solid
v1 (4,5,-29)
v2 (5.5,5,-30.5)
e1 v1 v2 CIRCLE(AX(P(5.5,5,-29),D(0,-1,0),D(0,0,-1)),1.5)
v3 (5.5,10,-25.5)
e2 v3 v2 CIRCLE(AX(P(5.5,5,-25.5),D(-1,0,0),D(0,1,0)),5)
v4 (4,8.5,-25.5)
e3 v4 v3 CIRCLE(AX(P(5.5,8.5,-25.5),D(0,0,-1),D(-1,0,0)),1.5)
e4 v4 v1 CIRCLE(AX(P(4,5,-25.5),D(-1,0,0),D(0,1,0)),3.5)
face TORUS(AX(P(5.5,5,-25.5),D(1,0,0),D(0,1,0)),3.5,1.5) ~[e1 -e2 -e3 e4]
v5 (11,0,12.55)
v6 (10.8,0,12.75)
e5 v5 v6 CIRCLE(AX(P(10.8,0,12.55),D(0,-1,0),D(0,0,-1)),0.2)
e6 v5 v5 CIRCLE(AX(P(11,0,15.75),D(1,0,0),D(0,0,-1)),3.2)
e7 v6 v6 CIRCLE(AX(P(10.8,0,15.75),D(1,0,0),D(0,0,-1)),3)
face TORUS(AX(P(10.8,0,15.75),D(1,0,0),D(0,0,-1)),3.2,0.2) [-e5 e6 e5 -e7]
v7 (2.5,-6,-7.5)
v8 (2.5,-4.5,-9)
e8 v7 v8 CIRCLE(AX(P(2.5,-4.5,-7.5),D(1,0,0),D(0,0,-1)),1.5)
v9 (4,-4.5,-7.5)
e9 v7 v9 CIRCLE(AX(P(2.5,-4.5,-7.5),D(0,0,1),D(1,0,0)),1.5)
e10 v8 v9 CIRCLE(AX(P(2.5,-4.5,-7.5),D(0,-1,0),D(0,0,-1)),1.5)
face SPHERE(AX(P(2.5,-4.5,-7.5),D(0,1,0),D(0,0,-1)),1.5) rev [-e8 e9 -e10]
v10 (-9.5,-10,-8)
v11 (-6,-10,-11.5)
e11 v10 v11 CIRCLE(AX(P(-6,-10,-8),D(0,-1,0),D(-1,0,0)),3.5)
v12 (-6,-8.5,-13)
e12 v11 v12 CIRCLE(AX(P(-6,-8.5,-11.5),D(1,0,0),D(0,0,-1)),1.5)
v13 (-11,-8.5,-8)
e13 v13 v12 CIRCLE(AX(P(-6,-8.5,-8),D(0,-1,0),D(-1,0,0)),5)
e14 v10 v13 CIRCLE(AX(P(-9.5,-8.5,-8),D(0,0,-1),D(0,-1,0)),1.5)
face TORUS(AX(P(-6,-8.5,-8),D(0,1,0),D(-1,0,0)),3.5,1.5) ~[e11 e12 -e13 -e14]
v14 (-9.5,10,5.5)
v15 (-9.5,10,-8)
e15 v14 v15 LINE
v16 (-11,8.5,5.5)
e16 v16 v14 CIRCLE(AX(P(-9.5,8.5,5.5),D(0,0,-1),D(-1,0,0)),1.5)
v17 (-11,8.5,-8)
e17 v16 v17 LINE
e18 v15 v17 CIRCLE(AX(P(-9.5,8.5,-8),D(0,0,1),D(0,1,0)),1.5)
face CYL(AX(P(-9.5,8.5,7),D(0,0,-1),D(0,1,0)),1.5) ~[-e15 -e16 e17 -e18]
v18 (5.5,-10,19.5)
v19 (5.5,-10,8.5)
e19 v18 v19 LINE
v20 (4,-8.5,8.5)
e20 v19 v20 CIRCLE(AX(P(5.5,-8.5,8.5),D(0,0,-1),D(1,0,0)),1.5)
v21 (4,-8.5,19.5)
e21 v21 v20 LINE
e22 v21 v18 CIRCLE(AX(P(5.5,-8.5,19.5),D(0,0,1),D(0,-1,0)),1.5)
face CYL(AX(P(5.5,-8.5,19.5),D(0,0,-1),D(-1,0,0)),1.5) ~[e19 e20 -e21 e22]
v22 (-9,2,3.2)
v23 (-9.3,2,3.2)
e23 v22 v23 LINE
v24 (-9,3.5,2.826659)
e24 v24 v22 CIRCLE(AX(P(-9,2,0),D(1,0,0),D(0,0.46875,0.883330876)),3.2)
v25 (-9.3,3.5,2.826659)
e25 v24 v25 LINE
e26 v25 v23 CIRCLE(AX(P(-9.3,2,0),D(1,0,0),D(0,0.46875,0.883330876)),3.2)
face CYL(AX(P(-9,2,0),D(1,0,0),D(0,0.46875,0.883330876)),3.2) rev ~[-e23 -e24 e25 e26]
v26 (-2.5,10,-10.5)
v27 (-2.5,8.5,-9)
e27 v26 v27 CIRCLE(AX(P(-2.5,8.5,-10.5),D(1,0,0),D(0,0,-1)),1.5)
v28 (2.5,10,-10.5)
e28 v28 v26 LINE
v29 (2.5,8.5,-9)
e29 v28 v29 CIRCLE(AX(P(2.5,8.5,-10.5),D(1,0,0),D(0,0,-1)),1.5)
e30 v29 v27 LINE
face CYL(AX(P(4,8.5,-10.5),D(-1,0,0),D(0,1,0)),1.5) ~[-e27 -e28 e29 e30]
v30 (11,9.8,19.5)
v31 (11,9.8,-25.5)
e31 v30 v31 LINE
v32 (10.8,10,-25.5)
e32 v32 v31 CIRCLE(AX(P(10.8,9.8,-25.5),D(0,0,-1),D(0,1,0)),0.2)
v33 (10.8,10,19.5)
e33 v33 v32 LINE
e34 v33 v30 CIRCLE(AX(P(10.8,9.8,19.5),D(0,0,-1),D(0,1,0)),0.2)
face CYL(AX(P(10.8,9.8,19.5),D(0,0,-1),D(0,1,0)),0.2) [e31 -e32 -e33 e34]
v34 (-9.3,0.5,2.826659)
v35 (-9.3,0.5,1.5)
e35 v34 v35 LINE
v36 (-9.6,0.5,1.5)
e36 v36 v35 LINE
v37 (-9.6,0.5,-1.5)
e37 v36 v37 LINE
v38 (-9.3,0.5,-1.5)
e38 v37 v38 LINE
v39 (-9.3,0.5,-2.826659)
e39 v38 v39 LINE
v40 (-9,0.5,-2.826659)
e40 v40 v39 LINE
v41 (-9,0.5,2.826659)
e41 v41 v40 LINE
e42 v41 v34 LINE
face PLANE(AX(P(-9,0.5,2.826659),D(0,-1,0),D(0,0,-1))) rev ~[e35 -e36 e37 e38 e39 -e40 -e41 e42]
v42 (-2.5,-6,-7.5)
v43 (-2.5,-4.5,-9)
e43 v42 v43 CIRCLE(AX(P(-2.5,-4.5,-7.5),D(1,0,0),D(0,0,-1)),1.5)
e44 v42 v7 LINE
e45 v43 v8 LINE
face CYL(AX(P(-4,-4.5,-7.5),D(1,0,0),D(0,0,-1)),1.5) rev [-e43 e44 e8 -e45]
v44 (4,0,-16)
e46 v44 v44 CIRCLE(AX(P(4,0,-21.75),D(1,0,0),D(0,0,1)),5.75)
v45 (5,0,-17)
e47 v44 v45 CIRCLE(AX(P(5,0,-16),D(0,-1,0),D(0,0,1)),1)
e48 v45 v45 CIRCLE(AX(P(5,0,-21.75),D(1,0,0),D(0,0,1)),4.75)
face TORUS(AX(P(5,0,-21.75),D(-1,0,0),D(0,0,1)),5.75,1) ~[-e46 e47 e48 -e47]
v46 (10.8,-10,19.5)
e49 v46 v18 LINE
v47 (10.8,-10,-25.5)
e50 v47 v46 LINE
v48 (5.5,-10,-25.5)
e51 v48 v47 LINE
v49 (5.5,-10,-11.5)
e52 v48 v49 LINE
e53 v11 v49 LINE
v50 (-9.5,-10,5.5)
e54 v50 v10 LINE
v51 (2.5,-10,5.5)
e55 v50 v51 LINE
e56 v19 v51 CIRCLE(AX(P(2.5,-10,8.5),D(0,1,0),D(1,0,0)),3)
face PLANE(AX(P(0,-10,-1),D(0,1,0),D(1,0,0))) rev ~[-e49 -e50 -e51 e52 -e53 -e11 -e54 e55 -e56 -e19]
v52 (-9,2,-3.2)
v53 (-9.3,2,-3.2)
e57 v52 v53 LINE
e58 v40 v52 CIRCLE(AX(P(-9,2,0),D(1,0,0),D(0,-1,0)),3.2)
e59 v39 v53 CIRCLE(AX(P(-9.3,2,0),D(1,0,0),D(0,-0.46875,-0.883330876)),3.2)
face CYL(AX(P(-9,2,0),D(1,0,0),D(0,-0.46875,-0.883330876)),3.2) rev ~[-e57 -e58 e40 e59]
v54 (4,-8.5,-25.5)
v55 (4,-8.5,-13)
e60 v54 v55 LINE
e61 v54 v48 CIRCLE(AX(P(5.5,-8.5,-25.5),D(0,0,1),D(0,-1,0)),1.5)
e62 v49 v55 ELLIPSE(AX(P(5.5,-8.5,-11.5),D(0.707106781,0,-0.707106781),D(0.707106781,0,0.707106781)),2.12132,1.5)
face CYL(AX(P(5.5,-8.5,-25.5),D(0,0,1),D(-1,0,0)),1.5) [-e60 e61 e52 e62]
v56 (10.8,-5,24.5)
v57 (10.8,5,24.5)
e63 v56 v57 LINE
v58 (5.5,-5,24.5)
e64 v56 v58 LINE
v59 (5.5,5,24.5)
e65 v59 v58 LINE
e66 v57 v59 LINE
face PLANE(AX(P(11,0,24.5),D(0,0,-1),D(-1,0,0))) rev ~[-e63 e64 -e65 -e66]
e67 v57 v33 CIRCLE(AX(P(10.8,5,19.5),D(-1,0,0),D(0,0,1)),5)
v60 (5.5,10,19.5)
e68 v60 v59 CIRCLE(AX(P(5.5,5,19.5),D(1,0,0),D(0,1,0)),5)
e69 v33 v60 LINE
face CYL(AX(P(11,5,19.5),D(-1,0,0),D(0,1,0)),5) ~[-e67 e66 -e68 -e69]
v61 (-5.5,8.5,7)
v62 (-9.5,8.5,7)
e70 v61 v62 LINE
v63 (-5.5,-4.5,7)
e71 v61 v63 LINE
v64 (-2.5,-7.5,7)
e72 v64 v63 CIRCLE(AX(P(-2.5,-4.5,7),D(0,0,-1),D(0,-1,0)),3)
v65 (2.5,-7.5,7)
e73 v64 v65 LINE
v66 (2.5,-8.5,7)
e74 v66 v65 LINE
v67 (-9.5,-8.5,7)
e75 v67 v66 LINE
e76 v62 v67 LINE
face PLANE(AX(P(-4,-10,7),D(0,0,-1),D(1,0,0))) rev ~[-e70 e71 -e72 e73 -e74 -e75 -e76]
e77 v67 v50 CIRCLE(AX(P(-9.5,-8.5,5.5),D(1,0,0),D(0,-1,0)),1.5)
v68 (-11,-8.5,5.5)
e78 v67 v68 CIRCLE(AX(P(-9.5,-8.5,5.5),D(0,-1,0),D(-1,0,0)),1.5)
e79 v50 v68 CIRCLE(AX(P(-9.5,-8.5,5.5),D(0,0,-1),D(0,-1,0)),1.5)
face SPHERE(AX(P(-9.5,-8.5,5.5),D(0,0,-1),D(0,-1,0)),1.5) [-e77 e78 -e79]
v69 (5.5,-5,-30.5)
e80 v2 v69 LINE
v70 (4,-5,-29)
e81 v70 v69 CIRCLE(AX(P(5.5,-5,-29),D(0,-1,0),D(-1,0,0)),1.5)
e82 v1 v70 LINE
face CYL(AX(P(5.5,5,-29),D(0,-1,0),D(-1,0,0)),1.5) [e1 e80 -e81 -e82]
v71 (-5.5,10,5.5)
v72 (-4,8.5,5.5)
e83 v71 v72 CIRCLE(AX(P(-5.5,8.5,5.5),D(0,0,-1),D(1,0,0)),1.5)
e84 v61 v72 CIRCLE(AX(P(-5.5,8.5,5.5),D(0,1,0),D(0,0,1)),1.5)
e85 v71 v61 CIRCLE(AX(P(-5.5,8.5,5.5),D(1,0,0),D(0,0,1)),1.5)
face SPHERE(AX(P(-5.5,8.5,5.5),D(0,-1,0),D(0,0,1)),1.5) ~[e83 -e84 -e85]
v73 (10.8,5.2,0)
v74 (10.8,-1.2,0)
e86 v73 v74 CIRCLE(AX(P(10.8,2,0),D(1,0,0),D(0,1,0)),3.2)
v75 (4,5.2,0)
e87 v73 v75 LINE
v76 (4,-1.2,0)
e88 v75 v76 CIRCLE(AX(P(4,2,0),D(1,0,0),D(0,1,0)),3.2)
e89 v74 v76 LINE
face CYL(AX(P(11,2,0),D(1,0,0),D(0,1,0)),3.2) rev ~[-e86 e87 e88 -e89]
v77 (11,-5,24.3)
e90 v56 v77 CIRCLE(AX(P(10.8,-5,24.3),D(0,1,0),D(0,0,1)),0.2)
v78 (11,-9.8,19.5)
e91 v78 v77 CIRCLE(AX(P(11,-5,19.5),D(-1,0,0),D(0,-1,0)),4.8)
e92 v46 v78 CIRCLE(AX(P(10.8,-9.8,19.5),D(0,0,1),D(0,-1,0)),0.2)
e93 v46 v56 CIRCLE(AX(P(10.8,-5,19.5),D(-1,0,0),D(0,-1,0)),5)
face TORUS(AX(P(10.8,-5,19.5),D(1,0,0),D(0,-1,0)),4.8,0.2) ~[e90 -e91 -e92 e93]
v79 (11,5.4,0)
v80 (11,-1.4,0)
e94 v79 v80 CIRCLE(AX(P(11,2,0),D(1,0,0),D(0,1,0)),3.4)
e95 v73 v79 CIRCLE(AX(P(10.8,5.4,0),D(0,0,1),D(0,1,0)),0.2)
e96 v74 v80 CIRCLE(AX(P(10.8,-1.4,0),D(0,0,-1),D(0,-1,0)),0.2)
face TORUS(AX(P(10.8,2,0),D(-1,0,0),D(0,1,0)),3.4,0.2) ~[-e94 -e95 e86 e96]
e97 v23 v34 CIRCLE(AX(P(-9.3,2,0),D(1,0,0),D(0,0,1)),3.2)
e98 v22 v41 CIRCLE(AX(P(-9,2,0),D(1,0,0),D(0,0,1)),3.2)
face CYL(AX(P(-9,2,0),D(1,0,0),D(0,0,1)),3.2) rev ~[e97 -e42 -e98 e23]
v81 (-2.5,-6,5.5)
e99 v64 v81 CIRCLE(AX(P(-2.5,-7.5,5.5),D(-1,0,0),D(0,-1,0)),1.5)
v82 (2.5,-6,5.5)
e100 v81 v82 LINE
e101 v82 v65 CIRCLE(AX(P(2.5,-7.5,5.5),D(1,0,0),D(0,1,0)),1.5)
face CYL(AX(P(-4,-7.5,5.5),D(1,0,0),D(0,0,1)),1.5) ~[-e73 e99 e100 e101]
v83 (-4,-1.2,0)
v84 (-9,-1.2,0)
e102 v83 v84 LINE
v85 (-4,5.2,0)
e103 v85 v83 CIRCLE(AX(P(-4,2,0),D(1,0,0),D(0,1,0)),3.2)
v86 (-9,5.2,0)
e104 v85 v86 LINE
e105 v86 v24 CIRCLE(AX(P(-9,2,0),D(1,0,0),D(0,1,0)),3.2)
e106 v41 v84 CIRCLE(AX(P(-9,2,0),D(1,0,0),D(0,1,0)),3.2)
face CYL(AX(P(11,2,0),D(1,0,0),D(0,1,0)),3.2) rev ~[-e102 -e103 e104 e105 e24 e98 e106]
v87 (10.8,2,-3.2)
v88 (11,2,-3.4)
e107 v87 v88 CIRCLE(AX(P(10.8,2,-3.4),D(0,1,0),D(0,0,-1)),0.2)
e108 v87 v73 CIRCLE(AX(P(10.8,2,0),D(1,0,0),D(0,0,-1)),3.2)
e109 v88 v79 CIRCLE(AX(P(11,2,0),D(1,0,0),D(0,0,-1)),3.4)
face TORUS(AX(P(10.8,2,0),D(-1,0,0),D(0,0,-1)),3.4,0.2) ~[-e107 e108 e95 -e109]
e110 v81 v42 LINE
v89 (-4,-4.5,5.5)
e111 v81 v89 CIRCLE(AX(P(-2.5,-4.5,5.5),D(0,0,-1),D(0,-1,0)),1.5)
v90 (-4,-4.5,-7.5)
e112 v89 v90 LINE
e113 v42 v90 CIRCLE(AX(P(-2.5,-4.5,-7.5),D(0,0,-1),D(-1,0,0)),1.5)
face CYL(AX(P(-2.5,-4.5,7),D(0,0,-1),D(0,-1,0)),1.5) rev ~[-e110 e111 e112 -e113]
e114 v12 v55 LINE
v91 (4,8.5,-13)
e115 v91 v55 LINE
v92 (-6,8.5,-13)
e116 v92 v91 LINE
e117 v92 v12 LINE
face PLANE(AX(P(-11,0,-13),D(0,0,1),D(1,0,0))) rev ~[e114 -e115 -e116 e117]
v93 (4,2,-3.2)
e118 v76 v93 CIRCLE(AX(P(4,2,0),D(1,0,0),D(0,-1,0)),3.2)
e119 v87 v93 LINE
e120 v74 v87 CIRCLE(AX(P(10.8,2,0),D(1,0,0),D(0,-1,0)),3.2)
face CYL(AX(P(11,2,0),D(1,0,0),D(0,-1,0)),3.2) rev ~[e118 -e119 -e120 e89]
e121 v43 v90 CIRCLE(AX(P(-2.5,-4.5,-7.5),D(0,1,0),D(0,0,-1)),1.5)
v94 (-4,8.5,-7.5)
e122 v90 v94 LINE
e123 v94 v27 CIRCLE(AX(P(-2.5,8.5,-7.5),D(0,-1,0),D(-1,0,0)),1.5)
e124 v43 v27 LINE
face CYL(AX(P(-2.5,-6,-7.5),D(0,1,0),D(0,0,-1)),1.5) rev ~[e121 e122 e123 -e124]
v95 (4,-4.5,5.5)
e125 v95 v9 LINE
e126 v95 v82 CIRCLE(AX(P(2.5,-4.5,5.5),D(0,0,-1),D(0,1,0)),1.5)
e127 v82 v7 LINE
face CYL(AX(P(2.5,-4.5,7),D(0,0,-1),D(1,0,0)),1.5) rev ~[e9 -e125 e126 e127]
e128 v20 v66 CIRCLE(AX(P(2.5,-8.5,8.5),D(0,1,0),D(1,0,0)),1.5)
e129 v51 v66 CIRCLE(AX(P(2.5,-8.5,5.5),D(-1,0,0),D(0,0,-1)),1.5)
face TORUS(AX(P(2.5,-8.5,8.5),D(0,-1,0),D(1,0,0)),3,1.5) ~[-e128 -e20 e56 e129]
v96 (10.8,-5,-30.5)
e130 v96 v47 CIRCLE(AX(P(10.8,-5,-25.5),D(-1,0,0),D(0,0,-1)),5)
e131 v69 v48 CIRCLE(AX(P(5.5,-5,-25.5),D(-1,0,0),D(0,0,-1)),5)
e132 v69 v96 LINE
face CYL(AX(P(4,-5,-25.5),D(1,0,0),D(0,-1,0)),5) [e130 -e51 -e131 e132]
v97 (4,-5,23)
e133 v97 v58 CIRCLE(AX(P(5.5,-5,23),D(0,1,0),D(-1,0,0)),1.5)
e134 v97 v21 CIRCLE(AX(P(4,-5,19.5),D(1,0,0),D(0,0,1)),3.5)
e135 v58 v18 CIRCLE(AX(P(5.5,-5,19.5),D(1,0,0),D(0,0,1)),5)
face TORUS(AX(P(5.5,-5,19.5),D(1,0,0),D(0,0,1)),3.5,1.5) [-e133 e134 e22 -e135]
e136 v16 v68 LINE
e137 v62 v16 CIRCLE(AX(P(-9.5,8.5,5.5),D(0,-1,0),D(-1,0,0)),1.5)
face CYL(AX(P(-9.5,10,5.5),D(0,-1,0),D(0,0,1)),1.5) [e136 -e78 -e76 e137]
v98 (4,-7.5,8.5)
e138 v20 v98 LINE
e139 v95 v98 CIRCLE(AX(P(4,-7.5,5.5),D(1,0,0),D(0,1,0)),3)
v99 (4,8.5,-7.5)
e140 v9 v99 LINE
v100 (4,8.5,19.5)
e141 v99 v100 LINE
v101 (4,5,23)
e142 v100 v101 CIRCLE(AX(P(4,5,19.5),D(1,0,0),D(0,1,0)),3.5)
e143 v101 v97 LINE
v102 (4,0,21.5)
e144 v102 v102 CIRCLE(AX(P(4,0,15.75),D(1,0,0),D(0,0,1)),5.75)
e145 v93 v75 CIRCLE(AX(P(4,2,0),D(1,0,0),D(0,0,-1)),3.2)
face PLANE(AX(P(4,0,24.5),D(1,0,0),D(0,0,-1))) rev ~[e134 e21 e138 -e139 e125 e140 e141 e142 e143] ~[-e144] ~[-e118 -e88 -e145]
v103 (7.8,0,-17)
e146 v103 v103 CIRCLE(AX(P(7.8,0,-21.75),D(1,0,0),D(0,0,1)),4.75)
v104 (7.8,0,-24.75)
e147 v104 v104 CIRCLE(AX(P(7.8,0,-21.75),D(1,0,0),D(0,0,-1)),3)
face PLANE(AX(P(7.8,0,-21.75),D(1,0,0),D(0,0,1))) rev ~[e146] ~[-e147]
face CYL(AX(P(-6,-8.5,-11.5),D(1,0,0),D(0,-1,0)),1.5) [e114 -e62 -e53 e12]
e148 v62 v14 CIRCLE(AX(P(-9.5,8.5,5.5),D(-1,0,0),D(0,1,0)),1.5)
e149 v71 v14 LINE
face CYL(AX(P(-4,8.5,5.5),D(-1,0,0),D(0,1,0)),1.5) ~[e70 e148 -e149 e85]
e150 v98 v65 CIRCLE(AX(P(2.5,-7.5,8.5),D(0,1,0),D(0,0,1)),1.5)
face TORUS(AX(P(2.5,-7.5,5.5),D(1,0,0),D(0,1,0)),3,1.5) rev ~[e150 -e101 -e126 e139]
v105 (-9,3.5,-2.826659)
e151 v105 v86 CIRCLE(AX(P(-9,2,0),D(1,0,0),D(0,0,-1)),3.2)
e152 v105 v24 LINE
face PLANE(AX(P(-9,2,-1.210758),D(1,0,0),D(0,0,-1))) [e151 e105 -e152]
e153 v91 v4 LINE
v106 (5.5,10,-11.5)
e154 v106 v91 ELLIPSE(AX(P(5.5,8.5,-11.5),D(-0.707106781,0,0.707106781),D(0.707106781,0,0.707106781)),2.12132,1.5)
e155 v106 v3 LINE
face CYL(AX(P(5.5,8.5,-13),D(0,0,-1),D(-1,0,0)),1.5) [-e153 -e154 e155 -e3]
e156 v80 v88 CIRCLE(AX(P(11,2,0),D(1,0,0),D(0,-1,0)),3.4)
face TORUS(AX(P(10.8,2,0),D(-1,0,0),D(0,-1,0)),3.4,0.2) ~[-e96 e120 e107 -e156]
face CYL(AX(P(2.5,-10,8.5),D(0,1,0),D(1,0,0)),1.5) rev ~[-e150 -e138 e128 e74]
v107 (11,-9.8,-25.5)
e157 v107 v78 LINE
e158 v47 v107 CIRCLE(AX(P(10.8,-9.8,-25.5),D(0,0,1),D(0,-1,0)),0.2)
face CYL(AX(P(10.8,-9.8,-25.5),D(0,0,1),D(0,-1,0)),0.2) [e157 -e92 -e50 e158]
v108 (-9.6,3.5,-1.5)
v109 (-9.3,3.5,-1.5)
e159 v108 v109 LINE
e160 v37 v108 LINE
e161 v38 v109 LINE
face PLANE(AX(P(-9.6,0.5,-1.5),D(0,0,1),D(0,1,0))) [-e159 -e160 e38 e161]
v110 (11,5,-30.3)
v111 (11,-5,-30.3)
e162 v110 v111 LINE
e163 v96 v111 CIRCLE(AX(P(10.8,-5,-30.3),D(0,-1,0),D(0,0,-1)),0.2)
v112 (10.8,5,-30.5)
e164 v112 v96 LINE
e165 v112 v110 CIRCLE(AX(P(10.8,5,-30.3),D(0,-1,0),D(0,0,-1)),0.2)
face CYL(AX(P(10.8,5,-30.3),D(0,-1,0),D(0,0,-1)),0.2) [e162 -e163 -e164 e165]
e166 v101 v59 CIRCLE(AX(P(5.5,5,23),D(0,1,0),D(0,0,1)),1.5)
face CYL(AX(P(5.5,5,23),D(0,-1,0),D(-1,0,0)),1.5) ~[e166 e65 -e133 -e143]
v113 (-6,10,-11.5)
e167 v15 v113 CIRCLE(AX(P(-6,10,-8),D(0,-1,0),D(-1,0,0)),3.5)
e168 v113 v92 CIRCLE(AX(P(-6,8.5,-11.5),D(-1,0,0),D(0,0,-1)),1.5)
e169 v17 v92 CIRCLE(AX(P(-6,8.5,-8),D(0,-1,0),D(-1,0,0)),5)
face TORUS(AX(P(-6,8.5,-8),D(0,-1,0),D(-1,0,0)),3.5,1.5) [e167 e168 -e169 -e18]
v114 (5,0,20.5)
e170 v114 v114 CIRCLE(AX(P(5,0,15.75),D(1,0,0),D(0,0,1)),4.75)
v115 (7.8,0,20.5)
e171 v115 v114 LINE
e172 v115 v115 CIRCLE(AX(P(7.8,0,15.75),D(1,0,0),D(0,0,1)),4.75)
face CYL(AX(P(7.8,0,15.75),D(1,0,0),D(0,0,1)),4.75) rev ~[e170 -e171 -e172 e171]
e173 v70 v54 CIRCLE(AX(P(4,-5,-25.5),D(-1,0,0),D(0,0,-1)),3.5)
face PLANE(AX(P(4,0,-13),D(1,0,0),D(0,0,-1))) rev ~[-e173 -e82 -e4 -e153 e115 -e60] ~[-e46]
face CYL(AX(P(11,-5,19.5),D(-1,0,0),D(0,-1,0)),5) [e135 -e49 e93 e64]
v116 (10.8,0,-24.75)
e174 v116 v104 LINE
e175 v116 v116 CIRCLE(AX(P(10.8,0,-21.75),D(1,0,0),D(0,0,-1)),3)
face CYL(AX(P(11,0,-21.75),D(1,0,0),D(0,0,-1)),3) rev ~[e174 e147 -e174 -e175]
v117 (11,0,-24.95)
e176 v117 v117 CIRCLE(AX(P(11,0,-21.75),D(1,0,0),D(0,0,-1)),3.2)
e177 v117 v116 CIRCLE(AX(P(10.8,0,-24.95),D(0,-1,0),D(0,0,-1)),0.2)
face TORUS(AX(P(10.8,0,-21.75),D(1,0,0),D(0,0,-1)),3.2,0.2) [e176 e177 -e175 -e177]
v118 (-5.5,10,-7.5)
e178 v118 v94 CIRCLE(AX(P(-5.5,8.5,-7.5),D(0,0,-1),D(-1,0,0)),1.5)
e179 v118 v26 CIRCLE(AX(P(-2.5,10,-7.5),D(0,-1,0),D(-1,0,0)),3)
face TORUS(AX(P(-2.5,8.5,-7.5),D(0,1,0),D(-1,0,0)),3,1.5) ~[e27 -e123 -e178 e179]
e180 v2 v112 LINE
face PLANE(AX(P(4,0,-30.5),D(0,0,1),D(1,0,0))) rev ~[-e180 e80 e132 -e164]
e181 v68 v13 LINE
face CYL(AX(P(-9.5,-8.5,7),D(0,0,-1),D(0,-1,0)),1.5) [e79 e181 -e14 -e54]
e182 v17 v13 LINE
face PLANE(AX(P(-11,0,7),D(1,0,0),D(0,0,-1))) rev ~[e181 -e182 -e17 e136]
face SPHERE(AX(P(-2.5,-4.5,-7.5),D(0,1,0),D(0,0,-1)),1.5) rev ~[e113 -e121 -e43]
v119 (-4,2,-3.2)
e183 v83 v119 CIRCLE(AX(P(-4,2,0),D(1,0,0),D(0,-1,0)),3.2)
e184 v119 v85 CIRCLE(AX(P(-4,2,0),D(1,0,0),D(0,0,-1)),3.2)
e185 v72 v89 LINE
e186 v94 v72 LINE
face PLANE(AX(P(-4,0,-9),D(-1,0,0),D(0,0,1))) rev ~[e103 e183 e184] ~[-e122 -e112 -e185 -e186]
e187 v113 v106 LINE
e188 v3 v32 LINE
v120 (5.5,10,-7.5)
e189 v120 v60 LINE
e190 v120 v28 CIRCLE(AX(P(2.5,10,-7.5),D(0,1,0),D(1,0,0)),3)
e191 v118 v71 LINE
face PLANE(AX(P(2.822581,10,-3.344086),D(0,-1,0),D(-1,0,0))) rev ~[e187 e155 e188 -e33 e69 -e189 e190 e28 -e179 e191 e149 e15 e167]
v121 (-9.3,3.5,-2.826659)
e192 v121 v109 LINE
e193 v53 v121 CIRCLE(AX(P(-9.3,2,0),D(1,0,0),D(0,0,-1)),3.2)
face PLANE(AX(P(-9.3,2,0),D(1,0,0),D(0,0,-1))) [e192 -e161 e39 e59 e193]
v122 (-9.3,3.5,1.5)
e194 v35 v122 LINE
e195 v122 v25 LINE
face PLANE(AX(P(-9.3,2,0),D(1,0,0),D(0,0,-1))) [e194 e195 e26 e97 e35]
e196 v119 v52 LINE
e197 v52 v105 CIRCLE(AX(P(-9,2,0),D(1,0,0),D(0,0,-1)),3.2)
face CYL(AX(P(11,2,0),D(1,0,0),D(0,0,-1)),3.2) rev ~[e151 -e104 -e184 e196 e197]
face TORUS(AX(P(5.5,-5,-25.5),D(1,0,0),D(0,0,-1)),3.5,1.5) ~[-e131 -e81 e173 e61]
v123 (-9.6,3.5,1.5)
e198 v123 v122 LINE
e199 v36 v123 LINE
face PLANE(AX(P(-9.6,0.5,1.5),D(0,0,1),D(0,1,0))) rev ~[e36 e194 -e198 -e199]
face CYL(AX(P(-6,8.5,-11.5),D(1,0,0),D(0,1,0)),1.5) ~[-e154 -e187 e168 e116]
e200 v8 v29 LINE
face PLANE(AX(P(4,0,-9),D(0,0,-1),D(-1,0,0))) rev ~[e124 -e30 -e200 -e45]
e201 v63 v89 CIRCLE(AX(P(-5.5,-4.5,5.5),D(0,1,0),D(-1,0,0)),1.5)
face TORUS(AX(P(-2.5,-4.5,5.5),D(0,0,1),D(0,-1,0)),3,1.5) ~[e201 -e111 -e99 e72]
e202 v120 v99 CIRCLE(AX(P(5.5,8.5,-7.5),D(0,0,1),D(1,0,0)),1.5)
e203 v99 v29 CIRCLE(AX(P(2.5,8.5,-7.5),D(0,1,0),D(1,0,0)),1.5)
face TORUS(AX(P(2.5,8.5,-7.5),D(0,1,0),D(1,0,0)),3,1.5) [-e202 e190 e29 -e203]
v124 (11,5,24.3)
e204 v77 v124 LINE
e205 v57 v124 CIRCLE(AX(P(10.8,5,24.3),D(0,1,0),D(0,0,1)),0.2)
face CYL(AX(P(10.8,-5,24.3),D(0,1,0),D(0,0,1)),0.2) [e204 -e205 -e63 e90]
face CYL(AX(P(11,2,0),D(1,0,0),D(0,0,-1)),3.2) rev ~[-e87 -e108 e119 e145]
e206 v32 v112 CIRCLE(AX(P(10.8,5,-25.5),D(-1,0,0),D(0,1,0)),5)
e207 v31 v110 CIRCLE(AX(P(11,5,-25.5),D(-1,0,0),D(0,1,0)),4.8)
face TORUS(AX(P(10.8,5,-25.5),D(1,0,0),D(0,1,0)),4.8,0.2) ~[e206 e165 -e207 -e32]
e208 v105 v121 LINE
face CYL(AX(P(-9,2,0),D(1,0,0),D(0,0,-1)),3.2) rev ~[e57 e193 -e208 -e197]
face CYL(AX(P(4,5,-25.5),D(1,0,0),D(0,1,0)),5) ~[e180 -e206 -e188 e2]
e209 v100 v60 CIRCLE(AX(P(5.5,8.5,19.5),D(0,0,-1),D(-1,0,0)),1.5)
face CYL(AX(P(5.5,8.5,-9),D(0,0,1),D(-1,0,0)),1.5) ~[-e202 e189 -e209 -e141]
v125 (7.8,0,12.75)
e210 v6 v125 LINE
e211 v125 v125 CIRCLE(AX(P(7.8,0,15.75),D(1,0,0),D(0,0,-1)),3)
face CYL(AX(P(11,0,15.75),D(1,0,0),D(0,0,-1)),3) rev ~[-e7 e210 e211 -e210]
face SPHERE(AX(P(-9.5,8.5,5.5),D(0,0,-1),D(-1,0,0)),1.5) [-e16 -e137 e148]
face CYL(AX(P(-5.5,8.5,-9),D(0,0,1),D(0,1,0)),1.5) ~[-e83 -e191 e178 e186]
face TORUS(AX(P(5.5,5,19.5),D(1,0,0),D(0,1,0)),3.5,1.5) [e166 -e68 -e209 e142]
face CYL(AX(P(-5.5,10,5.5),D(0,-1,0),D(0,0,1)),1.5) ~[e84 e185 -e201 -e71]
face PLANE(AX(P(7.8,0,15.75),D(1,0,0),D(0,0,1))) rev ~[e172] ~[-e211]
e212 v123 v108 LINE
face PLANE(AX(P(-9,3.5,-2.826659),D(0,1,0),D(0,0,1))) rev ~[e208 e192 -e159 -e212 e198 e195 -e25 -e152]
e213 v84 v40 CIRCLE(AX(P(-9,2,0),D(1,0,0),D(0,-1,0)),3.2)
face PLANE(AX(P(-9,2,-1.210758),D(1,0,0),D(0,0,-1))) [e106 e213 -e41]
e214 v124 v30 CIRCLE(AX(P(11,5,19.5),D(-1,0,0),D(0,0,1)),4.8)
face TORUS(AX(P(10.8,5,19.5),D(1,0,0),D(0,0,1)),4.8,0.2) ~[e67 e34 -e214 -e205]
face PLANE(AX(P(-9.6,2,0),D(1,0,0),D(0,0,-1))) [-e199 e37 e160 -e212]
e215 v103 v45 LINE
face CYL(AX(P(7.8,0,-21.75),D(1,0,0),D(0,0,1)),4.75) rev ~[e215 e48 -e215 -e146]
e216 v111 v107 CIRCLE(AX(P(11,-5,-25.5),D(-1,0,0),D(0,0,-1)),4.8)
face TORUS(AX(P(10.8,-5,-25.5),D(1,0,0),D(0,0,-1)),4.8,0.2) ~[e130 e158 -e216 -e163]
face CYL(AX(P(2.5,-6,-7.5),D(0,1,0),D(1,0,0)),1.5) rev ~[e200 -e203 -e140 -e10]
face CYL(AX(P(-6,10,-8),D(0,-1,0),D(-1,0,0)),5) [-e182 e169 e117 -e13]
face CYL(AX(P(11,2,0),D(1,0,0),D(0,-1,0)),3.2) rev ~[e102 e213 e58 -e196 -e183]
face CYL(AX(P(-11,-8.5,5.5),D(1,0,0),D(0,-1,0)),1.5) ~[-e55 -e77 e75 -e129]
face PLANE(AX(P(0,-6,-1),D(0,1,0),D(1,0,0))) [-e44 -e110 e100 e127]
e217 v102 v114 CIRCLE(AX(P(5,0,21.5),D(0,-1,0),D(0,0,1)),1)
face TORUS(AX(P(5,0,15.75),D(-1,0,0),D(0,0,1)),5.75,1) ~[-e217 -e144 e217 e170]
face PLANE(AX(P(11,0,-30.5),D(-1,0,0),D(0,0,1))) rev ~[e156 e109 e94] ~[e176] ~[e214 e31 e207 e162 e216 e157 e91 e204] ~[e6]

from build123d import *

# Parameters (mm, degrees)
BOSS_EXTRUDE1_DEPTH = 10
BOSS_EXTRUDE2_START = -10
SKETCH1_3_W         = 8
SKETCH1_3_H         = 16
BOSS_EXTRUDE2_DEPTH = 4
CUT_EXTRUDE1_DEPTH  = 20
CUT_EXTRUDE2_REACH  = 40.913
SKETCH2_4_R         = 3
CUT_EXTRUDE3_START  = -3.2
SKETCH2_5_R         = 4.75
SKETCH2_5_R_2       = 3
CUT_EXTRUDE3_DEPTH  = 3.8
CUT_EXTRUDE4_START  = -20
SKETCH3_W           = 3
SKETCH3_H           = 3
CUT_EXTRUDE4_DEPTH  = 0.3
CUT_EXTRUDE5_START  = -20.6
SKETCH3_3_W         = 3
SKETCH3_3_H         = 3
CUT_EXTRUDE5_DEPTH  = 0.3
FILLET1_R           = 5
FILLET2_R           = 1.5
FILLET4_R           = 1
FILLET3_R           = 0.2


with BuildPart() as part:
    # Sketch1 → Boss-Extrude1 (new, symmetric)
    with BuildSketch(Plane(origin=(0, 0, 0), x_dir=(1, 0, 0), z_dir=(0, 1, 0))):
        Polygon((-4, 9), (-4, -7), (-11, -7), (-11, 13), (4, 13), (4, 30.5), (11, 30.5), (11, -24.5), (4, -24.5), (4, 9), align=None)
    extrude(amount=BOSS_EXTRUDE1_DEPTH, both=True)

    # Sketch1<3> → Boss-Extrude2 (add)
    with BuildSketch(Plane(origin=(0, 0, 0), x_dir=(1, 0, 0), z_dir=(0, 1, 0)).offset(BOSS_EXTRUDE2_START)):
        with Locations((0, 1)):
            Rectangle(SKETCH1_3_W, SKETCH1_3_H)
    extrude(amount=BOSS_EXTRUDE2_DEPTH)

    # Sketch2 → Cut-Extrude1 (cut)
    with BuildSketch(Plane(origin=(11, 0, 0), x_dir=(0, 0, -1), z_dir=(1, 0, 0))):
        with BuildLine():
            ThreePointArc((3.2, 2), (2.2627417, 4.2627417), (0, 5.2))
            Line((0, 5.2), (0, -1.2))
            ThreePointArc((0, -1.2), (2.2627417, -0.2627417), (3.2, 2))
        make_face()
        with BuildLine():
            Line((0, -1.2), (0, 5.2))
            ThreePointArc((0, 5.2), (-3.2, 2), (0, -1.2))
        make_face()
    extrude(amount=-CUT_EXTRUDE1_DEPTH, mode=Mode.SUBTRACT)

    # Sketch2<4> → Cut-Extrude2 (cut, up to next)
    with BuildSketch(Plane(origin=(11, 0, 0), x_dir=(0, 0, -1), z_dir=(1, 0, 0)), mode=Mode.PRIVATE) as cut_extrude2_sk1:
        with Locations((-15.75, 0)):
            Circle(SKETCH2_4_R)
    cut_extrude2_tool1 = extrude(cut_extrude2_sk1.sketch, amount=-CUT_EXTRUDE2_REACH, mode=Mode.PRIVATE) & part.part
    # Sketch2<4> → Cut-Extrude2 (cut, up to next)
    with BuildSketch(Plane(origin=(11, 0, 0), x_dir=(0, 0, -1), z_dir=(1, 0, 0)), mode=Mode.PRIVATE) as cut_extrude2_sk2:
        with Locations((21.75, 0)):
            Circle(SKETCH2_4_R)
    cut_extrude2_tool2 = extrude(cut_extrude2_sk2.sketch, amount=-CUT_EXTRUDE2_REACH, mode=Mode.PRIVATE) & part.part
    add(cut_extrude2_tool1.solids().sort_by_distance((11, 0, 15.75))[0], mode=Mode.SUBTRACT)
    add(cut_extrude2_tool2.solids().sort_by_distance((11, 0, -21.75))[0], mode=Mode.SUBTRACT)

    # Sketch2<5> → Cut-Extrude3 (cut)
    # profile 1 of 2: a face of its own
    with BuildSketch(Plane(origin=(11, 0, 0), x_dir=(0, 0, -1), z_dir=(1, 0, 0)).offset(CUT_EXTRUDE3_START)):
        with Locations(Location((-15.75, 0, 0), (0, 0, 180))):
            Circle(SKETCH2_5_R)
        with Locations((-15.75, 0)):
            Circle(SKETCH2_5_R_2, mode=Mode.SUBTRACT)
    # profile 2 of 2: a face of its own
    with BuildSketch(Plane(origin=(11, 0, 0), x_dir=(0, 0, -1), z_dir=(1, 0, 0)).offset(CUT_EXTRUDE3_START)):
        with Locations(Location((21.75, 0, 0), (0, 0, 180))):
            Circle(SKETCH2_5_R)
        with Locations((21.75, 0)):
            Circle(SKETCH2_5_R_2, mode=Mode.SUBTRACT)
    extrude(amount=-CUT_EXTRUDE3_DEPTH, mode=Mode.SUBTRACT)

    # Sketch3 → Cut-Extrude4 (cut)
    with BuildSketch(Plane(origin=(11, 0, 0), x_dir=(0, 0, -1), z_dir=(1, 0, 0)).offset(CUT_EXTRUDE4_START)):
        with Locations((0, 2)):
            Rectangle(SKETCH3_W, SKETCH3_H)
        with BuildLine():
            Line((1.5, 3.5), (1.5, 0.5))
            Line((1.5, 0.5), (2.826658805, 0.5))
            ThreePointArc((2.826658805, 0.5), (3.105262322, 1.227118436), (3.2, 2))
            ThreePointArc((3.2, 2), (3.105262322, 2.772881564), (2.826658805, 3.5))
            Line((2.826658805, 3.5), (1.5, 3.5))
        make_face()
        with BuildLine():
            Line((-2.826658805, 0.5), (-1.5, 0.5))
            Line((-1.5, 0.5), (-1.5, 3.5))
            Line((-1.5, 3.5), (-2.826658805, 3.5))
            ThreePointArc((-2.826658805, 3.5), (-3.105262322, 2.772881564), (-3.2, 2))
            ThreePointArc((-3.2, 2), (-3.105262322, 1.227118436), (-2.826658805, 0.5))
        make_face()
    extrude(amount=-CUT_EXTRUDE4_DEPTH, mode=Mode.SUBTRACT)

    # Sketch3<3> → Cut-Extrude5 (cut)
    with BuildSketch(Plane(origin=(11, 0, 0), x_dir=(0, 0, -1), z_dir=(1, 0, 0)).offset(CUT_EXTRUDE5_START)):
        with Locations((0, 2)):
            Rectangle(SKETCH3_3_W, SKETCH3_3_H)
    extrude(amount=CUT_EXTRUDE5_DEPTH, mode=Mode.SUBTRACT)

    # Fillet1
    fillet1_edges = [part.edges().sort_by_distance(p)[0] for p in [
        (7.5, -10, -30.5),
        (7.5, -10, 24.5),
        (-11, 0, -13),
        (7.5, 10, 24.5),
        (7.5, 10, -30.5),
    ]]
    fillet(fillet1_edges, radius=FILLET1_R)

    # Fillet2
    fillet2_edges = [part.edges().sort_by_distance(p)[0] for p in [
        (4, -10, 13.25),
        (0, 10, -9),
        (-9.535533906, -10, -11.535533906),
        (4, 10, 5.25),
        (-9.535533906, 10, -11.535533906),
        (4, 0, -30.5),
        (-3.5, -10, 7),
        (4, -8.535533906, -29.035533906),
        (-11, -10, -0.5),
        (4, 8.535533906, -29.035533906),
        (4, 0, 24.5),
        (4, 8.535533906, 23.035533906),
        (4, -8.535533906, 23.035533906),
        (-1, -10, -13),
        (4, -10, -19.25),
        (-4, 2, 7),
        (-11, 0, 7),
        (4, 2, -9),
        (-4, 2, -9),
        (4, 10, -19.25),
        (4, -8, 7),
        (0, -6, -9),
        (-4, -6, -1),
        (0, -6, 7),
        (4, -6, -1),
        (-1, 10, -13),
        (-11, 10, -0.5),
        (-7.5, 10, 7),
        (-4, 10, -1),
    ]]
    fillet(fillet2_edges, radius=FILLET2_R)

    # Fillet4
    fillet4_edges = [part.edges().sort_by_distance(p)[0] for p in [
        (4, 0, 11),
        (4, 0, -26.5),
    ]]
    fillet(fillet4_edges, radius=FILLET4_R)

    # Fillet3
    fillet3_edges = [part.edges().sort_by_distance(p)[0] for p in [
        (11, -10, -3),
        (11, 10, -3),
        (11, 0, -30.5),
        (11, 0, 24.5),
        (11, 8.535533906, 23.035533906),
        (11, -8.535533906, 23.035533906),
        (11, -8.535533906, -29.035533906),
        (11, 8.535533906, -29.035533906),
        (11, -1.2, 0),
        (11, 0, 18.75),
        (11, 0, -18.75),
    ]]
    fillet(fillet3_edges, radius=FILLET3_R)


solid = part.part
